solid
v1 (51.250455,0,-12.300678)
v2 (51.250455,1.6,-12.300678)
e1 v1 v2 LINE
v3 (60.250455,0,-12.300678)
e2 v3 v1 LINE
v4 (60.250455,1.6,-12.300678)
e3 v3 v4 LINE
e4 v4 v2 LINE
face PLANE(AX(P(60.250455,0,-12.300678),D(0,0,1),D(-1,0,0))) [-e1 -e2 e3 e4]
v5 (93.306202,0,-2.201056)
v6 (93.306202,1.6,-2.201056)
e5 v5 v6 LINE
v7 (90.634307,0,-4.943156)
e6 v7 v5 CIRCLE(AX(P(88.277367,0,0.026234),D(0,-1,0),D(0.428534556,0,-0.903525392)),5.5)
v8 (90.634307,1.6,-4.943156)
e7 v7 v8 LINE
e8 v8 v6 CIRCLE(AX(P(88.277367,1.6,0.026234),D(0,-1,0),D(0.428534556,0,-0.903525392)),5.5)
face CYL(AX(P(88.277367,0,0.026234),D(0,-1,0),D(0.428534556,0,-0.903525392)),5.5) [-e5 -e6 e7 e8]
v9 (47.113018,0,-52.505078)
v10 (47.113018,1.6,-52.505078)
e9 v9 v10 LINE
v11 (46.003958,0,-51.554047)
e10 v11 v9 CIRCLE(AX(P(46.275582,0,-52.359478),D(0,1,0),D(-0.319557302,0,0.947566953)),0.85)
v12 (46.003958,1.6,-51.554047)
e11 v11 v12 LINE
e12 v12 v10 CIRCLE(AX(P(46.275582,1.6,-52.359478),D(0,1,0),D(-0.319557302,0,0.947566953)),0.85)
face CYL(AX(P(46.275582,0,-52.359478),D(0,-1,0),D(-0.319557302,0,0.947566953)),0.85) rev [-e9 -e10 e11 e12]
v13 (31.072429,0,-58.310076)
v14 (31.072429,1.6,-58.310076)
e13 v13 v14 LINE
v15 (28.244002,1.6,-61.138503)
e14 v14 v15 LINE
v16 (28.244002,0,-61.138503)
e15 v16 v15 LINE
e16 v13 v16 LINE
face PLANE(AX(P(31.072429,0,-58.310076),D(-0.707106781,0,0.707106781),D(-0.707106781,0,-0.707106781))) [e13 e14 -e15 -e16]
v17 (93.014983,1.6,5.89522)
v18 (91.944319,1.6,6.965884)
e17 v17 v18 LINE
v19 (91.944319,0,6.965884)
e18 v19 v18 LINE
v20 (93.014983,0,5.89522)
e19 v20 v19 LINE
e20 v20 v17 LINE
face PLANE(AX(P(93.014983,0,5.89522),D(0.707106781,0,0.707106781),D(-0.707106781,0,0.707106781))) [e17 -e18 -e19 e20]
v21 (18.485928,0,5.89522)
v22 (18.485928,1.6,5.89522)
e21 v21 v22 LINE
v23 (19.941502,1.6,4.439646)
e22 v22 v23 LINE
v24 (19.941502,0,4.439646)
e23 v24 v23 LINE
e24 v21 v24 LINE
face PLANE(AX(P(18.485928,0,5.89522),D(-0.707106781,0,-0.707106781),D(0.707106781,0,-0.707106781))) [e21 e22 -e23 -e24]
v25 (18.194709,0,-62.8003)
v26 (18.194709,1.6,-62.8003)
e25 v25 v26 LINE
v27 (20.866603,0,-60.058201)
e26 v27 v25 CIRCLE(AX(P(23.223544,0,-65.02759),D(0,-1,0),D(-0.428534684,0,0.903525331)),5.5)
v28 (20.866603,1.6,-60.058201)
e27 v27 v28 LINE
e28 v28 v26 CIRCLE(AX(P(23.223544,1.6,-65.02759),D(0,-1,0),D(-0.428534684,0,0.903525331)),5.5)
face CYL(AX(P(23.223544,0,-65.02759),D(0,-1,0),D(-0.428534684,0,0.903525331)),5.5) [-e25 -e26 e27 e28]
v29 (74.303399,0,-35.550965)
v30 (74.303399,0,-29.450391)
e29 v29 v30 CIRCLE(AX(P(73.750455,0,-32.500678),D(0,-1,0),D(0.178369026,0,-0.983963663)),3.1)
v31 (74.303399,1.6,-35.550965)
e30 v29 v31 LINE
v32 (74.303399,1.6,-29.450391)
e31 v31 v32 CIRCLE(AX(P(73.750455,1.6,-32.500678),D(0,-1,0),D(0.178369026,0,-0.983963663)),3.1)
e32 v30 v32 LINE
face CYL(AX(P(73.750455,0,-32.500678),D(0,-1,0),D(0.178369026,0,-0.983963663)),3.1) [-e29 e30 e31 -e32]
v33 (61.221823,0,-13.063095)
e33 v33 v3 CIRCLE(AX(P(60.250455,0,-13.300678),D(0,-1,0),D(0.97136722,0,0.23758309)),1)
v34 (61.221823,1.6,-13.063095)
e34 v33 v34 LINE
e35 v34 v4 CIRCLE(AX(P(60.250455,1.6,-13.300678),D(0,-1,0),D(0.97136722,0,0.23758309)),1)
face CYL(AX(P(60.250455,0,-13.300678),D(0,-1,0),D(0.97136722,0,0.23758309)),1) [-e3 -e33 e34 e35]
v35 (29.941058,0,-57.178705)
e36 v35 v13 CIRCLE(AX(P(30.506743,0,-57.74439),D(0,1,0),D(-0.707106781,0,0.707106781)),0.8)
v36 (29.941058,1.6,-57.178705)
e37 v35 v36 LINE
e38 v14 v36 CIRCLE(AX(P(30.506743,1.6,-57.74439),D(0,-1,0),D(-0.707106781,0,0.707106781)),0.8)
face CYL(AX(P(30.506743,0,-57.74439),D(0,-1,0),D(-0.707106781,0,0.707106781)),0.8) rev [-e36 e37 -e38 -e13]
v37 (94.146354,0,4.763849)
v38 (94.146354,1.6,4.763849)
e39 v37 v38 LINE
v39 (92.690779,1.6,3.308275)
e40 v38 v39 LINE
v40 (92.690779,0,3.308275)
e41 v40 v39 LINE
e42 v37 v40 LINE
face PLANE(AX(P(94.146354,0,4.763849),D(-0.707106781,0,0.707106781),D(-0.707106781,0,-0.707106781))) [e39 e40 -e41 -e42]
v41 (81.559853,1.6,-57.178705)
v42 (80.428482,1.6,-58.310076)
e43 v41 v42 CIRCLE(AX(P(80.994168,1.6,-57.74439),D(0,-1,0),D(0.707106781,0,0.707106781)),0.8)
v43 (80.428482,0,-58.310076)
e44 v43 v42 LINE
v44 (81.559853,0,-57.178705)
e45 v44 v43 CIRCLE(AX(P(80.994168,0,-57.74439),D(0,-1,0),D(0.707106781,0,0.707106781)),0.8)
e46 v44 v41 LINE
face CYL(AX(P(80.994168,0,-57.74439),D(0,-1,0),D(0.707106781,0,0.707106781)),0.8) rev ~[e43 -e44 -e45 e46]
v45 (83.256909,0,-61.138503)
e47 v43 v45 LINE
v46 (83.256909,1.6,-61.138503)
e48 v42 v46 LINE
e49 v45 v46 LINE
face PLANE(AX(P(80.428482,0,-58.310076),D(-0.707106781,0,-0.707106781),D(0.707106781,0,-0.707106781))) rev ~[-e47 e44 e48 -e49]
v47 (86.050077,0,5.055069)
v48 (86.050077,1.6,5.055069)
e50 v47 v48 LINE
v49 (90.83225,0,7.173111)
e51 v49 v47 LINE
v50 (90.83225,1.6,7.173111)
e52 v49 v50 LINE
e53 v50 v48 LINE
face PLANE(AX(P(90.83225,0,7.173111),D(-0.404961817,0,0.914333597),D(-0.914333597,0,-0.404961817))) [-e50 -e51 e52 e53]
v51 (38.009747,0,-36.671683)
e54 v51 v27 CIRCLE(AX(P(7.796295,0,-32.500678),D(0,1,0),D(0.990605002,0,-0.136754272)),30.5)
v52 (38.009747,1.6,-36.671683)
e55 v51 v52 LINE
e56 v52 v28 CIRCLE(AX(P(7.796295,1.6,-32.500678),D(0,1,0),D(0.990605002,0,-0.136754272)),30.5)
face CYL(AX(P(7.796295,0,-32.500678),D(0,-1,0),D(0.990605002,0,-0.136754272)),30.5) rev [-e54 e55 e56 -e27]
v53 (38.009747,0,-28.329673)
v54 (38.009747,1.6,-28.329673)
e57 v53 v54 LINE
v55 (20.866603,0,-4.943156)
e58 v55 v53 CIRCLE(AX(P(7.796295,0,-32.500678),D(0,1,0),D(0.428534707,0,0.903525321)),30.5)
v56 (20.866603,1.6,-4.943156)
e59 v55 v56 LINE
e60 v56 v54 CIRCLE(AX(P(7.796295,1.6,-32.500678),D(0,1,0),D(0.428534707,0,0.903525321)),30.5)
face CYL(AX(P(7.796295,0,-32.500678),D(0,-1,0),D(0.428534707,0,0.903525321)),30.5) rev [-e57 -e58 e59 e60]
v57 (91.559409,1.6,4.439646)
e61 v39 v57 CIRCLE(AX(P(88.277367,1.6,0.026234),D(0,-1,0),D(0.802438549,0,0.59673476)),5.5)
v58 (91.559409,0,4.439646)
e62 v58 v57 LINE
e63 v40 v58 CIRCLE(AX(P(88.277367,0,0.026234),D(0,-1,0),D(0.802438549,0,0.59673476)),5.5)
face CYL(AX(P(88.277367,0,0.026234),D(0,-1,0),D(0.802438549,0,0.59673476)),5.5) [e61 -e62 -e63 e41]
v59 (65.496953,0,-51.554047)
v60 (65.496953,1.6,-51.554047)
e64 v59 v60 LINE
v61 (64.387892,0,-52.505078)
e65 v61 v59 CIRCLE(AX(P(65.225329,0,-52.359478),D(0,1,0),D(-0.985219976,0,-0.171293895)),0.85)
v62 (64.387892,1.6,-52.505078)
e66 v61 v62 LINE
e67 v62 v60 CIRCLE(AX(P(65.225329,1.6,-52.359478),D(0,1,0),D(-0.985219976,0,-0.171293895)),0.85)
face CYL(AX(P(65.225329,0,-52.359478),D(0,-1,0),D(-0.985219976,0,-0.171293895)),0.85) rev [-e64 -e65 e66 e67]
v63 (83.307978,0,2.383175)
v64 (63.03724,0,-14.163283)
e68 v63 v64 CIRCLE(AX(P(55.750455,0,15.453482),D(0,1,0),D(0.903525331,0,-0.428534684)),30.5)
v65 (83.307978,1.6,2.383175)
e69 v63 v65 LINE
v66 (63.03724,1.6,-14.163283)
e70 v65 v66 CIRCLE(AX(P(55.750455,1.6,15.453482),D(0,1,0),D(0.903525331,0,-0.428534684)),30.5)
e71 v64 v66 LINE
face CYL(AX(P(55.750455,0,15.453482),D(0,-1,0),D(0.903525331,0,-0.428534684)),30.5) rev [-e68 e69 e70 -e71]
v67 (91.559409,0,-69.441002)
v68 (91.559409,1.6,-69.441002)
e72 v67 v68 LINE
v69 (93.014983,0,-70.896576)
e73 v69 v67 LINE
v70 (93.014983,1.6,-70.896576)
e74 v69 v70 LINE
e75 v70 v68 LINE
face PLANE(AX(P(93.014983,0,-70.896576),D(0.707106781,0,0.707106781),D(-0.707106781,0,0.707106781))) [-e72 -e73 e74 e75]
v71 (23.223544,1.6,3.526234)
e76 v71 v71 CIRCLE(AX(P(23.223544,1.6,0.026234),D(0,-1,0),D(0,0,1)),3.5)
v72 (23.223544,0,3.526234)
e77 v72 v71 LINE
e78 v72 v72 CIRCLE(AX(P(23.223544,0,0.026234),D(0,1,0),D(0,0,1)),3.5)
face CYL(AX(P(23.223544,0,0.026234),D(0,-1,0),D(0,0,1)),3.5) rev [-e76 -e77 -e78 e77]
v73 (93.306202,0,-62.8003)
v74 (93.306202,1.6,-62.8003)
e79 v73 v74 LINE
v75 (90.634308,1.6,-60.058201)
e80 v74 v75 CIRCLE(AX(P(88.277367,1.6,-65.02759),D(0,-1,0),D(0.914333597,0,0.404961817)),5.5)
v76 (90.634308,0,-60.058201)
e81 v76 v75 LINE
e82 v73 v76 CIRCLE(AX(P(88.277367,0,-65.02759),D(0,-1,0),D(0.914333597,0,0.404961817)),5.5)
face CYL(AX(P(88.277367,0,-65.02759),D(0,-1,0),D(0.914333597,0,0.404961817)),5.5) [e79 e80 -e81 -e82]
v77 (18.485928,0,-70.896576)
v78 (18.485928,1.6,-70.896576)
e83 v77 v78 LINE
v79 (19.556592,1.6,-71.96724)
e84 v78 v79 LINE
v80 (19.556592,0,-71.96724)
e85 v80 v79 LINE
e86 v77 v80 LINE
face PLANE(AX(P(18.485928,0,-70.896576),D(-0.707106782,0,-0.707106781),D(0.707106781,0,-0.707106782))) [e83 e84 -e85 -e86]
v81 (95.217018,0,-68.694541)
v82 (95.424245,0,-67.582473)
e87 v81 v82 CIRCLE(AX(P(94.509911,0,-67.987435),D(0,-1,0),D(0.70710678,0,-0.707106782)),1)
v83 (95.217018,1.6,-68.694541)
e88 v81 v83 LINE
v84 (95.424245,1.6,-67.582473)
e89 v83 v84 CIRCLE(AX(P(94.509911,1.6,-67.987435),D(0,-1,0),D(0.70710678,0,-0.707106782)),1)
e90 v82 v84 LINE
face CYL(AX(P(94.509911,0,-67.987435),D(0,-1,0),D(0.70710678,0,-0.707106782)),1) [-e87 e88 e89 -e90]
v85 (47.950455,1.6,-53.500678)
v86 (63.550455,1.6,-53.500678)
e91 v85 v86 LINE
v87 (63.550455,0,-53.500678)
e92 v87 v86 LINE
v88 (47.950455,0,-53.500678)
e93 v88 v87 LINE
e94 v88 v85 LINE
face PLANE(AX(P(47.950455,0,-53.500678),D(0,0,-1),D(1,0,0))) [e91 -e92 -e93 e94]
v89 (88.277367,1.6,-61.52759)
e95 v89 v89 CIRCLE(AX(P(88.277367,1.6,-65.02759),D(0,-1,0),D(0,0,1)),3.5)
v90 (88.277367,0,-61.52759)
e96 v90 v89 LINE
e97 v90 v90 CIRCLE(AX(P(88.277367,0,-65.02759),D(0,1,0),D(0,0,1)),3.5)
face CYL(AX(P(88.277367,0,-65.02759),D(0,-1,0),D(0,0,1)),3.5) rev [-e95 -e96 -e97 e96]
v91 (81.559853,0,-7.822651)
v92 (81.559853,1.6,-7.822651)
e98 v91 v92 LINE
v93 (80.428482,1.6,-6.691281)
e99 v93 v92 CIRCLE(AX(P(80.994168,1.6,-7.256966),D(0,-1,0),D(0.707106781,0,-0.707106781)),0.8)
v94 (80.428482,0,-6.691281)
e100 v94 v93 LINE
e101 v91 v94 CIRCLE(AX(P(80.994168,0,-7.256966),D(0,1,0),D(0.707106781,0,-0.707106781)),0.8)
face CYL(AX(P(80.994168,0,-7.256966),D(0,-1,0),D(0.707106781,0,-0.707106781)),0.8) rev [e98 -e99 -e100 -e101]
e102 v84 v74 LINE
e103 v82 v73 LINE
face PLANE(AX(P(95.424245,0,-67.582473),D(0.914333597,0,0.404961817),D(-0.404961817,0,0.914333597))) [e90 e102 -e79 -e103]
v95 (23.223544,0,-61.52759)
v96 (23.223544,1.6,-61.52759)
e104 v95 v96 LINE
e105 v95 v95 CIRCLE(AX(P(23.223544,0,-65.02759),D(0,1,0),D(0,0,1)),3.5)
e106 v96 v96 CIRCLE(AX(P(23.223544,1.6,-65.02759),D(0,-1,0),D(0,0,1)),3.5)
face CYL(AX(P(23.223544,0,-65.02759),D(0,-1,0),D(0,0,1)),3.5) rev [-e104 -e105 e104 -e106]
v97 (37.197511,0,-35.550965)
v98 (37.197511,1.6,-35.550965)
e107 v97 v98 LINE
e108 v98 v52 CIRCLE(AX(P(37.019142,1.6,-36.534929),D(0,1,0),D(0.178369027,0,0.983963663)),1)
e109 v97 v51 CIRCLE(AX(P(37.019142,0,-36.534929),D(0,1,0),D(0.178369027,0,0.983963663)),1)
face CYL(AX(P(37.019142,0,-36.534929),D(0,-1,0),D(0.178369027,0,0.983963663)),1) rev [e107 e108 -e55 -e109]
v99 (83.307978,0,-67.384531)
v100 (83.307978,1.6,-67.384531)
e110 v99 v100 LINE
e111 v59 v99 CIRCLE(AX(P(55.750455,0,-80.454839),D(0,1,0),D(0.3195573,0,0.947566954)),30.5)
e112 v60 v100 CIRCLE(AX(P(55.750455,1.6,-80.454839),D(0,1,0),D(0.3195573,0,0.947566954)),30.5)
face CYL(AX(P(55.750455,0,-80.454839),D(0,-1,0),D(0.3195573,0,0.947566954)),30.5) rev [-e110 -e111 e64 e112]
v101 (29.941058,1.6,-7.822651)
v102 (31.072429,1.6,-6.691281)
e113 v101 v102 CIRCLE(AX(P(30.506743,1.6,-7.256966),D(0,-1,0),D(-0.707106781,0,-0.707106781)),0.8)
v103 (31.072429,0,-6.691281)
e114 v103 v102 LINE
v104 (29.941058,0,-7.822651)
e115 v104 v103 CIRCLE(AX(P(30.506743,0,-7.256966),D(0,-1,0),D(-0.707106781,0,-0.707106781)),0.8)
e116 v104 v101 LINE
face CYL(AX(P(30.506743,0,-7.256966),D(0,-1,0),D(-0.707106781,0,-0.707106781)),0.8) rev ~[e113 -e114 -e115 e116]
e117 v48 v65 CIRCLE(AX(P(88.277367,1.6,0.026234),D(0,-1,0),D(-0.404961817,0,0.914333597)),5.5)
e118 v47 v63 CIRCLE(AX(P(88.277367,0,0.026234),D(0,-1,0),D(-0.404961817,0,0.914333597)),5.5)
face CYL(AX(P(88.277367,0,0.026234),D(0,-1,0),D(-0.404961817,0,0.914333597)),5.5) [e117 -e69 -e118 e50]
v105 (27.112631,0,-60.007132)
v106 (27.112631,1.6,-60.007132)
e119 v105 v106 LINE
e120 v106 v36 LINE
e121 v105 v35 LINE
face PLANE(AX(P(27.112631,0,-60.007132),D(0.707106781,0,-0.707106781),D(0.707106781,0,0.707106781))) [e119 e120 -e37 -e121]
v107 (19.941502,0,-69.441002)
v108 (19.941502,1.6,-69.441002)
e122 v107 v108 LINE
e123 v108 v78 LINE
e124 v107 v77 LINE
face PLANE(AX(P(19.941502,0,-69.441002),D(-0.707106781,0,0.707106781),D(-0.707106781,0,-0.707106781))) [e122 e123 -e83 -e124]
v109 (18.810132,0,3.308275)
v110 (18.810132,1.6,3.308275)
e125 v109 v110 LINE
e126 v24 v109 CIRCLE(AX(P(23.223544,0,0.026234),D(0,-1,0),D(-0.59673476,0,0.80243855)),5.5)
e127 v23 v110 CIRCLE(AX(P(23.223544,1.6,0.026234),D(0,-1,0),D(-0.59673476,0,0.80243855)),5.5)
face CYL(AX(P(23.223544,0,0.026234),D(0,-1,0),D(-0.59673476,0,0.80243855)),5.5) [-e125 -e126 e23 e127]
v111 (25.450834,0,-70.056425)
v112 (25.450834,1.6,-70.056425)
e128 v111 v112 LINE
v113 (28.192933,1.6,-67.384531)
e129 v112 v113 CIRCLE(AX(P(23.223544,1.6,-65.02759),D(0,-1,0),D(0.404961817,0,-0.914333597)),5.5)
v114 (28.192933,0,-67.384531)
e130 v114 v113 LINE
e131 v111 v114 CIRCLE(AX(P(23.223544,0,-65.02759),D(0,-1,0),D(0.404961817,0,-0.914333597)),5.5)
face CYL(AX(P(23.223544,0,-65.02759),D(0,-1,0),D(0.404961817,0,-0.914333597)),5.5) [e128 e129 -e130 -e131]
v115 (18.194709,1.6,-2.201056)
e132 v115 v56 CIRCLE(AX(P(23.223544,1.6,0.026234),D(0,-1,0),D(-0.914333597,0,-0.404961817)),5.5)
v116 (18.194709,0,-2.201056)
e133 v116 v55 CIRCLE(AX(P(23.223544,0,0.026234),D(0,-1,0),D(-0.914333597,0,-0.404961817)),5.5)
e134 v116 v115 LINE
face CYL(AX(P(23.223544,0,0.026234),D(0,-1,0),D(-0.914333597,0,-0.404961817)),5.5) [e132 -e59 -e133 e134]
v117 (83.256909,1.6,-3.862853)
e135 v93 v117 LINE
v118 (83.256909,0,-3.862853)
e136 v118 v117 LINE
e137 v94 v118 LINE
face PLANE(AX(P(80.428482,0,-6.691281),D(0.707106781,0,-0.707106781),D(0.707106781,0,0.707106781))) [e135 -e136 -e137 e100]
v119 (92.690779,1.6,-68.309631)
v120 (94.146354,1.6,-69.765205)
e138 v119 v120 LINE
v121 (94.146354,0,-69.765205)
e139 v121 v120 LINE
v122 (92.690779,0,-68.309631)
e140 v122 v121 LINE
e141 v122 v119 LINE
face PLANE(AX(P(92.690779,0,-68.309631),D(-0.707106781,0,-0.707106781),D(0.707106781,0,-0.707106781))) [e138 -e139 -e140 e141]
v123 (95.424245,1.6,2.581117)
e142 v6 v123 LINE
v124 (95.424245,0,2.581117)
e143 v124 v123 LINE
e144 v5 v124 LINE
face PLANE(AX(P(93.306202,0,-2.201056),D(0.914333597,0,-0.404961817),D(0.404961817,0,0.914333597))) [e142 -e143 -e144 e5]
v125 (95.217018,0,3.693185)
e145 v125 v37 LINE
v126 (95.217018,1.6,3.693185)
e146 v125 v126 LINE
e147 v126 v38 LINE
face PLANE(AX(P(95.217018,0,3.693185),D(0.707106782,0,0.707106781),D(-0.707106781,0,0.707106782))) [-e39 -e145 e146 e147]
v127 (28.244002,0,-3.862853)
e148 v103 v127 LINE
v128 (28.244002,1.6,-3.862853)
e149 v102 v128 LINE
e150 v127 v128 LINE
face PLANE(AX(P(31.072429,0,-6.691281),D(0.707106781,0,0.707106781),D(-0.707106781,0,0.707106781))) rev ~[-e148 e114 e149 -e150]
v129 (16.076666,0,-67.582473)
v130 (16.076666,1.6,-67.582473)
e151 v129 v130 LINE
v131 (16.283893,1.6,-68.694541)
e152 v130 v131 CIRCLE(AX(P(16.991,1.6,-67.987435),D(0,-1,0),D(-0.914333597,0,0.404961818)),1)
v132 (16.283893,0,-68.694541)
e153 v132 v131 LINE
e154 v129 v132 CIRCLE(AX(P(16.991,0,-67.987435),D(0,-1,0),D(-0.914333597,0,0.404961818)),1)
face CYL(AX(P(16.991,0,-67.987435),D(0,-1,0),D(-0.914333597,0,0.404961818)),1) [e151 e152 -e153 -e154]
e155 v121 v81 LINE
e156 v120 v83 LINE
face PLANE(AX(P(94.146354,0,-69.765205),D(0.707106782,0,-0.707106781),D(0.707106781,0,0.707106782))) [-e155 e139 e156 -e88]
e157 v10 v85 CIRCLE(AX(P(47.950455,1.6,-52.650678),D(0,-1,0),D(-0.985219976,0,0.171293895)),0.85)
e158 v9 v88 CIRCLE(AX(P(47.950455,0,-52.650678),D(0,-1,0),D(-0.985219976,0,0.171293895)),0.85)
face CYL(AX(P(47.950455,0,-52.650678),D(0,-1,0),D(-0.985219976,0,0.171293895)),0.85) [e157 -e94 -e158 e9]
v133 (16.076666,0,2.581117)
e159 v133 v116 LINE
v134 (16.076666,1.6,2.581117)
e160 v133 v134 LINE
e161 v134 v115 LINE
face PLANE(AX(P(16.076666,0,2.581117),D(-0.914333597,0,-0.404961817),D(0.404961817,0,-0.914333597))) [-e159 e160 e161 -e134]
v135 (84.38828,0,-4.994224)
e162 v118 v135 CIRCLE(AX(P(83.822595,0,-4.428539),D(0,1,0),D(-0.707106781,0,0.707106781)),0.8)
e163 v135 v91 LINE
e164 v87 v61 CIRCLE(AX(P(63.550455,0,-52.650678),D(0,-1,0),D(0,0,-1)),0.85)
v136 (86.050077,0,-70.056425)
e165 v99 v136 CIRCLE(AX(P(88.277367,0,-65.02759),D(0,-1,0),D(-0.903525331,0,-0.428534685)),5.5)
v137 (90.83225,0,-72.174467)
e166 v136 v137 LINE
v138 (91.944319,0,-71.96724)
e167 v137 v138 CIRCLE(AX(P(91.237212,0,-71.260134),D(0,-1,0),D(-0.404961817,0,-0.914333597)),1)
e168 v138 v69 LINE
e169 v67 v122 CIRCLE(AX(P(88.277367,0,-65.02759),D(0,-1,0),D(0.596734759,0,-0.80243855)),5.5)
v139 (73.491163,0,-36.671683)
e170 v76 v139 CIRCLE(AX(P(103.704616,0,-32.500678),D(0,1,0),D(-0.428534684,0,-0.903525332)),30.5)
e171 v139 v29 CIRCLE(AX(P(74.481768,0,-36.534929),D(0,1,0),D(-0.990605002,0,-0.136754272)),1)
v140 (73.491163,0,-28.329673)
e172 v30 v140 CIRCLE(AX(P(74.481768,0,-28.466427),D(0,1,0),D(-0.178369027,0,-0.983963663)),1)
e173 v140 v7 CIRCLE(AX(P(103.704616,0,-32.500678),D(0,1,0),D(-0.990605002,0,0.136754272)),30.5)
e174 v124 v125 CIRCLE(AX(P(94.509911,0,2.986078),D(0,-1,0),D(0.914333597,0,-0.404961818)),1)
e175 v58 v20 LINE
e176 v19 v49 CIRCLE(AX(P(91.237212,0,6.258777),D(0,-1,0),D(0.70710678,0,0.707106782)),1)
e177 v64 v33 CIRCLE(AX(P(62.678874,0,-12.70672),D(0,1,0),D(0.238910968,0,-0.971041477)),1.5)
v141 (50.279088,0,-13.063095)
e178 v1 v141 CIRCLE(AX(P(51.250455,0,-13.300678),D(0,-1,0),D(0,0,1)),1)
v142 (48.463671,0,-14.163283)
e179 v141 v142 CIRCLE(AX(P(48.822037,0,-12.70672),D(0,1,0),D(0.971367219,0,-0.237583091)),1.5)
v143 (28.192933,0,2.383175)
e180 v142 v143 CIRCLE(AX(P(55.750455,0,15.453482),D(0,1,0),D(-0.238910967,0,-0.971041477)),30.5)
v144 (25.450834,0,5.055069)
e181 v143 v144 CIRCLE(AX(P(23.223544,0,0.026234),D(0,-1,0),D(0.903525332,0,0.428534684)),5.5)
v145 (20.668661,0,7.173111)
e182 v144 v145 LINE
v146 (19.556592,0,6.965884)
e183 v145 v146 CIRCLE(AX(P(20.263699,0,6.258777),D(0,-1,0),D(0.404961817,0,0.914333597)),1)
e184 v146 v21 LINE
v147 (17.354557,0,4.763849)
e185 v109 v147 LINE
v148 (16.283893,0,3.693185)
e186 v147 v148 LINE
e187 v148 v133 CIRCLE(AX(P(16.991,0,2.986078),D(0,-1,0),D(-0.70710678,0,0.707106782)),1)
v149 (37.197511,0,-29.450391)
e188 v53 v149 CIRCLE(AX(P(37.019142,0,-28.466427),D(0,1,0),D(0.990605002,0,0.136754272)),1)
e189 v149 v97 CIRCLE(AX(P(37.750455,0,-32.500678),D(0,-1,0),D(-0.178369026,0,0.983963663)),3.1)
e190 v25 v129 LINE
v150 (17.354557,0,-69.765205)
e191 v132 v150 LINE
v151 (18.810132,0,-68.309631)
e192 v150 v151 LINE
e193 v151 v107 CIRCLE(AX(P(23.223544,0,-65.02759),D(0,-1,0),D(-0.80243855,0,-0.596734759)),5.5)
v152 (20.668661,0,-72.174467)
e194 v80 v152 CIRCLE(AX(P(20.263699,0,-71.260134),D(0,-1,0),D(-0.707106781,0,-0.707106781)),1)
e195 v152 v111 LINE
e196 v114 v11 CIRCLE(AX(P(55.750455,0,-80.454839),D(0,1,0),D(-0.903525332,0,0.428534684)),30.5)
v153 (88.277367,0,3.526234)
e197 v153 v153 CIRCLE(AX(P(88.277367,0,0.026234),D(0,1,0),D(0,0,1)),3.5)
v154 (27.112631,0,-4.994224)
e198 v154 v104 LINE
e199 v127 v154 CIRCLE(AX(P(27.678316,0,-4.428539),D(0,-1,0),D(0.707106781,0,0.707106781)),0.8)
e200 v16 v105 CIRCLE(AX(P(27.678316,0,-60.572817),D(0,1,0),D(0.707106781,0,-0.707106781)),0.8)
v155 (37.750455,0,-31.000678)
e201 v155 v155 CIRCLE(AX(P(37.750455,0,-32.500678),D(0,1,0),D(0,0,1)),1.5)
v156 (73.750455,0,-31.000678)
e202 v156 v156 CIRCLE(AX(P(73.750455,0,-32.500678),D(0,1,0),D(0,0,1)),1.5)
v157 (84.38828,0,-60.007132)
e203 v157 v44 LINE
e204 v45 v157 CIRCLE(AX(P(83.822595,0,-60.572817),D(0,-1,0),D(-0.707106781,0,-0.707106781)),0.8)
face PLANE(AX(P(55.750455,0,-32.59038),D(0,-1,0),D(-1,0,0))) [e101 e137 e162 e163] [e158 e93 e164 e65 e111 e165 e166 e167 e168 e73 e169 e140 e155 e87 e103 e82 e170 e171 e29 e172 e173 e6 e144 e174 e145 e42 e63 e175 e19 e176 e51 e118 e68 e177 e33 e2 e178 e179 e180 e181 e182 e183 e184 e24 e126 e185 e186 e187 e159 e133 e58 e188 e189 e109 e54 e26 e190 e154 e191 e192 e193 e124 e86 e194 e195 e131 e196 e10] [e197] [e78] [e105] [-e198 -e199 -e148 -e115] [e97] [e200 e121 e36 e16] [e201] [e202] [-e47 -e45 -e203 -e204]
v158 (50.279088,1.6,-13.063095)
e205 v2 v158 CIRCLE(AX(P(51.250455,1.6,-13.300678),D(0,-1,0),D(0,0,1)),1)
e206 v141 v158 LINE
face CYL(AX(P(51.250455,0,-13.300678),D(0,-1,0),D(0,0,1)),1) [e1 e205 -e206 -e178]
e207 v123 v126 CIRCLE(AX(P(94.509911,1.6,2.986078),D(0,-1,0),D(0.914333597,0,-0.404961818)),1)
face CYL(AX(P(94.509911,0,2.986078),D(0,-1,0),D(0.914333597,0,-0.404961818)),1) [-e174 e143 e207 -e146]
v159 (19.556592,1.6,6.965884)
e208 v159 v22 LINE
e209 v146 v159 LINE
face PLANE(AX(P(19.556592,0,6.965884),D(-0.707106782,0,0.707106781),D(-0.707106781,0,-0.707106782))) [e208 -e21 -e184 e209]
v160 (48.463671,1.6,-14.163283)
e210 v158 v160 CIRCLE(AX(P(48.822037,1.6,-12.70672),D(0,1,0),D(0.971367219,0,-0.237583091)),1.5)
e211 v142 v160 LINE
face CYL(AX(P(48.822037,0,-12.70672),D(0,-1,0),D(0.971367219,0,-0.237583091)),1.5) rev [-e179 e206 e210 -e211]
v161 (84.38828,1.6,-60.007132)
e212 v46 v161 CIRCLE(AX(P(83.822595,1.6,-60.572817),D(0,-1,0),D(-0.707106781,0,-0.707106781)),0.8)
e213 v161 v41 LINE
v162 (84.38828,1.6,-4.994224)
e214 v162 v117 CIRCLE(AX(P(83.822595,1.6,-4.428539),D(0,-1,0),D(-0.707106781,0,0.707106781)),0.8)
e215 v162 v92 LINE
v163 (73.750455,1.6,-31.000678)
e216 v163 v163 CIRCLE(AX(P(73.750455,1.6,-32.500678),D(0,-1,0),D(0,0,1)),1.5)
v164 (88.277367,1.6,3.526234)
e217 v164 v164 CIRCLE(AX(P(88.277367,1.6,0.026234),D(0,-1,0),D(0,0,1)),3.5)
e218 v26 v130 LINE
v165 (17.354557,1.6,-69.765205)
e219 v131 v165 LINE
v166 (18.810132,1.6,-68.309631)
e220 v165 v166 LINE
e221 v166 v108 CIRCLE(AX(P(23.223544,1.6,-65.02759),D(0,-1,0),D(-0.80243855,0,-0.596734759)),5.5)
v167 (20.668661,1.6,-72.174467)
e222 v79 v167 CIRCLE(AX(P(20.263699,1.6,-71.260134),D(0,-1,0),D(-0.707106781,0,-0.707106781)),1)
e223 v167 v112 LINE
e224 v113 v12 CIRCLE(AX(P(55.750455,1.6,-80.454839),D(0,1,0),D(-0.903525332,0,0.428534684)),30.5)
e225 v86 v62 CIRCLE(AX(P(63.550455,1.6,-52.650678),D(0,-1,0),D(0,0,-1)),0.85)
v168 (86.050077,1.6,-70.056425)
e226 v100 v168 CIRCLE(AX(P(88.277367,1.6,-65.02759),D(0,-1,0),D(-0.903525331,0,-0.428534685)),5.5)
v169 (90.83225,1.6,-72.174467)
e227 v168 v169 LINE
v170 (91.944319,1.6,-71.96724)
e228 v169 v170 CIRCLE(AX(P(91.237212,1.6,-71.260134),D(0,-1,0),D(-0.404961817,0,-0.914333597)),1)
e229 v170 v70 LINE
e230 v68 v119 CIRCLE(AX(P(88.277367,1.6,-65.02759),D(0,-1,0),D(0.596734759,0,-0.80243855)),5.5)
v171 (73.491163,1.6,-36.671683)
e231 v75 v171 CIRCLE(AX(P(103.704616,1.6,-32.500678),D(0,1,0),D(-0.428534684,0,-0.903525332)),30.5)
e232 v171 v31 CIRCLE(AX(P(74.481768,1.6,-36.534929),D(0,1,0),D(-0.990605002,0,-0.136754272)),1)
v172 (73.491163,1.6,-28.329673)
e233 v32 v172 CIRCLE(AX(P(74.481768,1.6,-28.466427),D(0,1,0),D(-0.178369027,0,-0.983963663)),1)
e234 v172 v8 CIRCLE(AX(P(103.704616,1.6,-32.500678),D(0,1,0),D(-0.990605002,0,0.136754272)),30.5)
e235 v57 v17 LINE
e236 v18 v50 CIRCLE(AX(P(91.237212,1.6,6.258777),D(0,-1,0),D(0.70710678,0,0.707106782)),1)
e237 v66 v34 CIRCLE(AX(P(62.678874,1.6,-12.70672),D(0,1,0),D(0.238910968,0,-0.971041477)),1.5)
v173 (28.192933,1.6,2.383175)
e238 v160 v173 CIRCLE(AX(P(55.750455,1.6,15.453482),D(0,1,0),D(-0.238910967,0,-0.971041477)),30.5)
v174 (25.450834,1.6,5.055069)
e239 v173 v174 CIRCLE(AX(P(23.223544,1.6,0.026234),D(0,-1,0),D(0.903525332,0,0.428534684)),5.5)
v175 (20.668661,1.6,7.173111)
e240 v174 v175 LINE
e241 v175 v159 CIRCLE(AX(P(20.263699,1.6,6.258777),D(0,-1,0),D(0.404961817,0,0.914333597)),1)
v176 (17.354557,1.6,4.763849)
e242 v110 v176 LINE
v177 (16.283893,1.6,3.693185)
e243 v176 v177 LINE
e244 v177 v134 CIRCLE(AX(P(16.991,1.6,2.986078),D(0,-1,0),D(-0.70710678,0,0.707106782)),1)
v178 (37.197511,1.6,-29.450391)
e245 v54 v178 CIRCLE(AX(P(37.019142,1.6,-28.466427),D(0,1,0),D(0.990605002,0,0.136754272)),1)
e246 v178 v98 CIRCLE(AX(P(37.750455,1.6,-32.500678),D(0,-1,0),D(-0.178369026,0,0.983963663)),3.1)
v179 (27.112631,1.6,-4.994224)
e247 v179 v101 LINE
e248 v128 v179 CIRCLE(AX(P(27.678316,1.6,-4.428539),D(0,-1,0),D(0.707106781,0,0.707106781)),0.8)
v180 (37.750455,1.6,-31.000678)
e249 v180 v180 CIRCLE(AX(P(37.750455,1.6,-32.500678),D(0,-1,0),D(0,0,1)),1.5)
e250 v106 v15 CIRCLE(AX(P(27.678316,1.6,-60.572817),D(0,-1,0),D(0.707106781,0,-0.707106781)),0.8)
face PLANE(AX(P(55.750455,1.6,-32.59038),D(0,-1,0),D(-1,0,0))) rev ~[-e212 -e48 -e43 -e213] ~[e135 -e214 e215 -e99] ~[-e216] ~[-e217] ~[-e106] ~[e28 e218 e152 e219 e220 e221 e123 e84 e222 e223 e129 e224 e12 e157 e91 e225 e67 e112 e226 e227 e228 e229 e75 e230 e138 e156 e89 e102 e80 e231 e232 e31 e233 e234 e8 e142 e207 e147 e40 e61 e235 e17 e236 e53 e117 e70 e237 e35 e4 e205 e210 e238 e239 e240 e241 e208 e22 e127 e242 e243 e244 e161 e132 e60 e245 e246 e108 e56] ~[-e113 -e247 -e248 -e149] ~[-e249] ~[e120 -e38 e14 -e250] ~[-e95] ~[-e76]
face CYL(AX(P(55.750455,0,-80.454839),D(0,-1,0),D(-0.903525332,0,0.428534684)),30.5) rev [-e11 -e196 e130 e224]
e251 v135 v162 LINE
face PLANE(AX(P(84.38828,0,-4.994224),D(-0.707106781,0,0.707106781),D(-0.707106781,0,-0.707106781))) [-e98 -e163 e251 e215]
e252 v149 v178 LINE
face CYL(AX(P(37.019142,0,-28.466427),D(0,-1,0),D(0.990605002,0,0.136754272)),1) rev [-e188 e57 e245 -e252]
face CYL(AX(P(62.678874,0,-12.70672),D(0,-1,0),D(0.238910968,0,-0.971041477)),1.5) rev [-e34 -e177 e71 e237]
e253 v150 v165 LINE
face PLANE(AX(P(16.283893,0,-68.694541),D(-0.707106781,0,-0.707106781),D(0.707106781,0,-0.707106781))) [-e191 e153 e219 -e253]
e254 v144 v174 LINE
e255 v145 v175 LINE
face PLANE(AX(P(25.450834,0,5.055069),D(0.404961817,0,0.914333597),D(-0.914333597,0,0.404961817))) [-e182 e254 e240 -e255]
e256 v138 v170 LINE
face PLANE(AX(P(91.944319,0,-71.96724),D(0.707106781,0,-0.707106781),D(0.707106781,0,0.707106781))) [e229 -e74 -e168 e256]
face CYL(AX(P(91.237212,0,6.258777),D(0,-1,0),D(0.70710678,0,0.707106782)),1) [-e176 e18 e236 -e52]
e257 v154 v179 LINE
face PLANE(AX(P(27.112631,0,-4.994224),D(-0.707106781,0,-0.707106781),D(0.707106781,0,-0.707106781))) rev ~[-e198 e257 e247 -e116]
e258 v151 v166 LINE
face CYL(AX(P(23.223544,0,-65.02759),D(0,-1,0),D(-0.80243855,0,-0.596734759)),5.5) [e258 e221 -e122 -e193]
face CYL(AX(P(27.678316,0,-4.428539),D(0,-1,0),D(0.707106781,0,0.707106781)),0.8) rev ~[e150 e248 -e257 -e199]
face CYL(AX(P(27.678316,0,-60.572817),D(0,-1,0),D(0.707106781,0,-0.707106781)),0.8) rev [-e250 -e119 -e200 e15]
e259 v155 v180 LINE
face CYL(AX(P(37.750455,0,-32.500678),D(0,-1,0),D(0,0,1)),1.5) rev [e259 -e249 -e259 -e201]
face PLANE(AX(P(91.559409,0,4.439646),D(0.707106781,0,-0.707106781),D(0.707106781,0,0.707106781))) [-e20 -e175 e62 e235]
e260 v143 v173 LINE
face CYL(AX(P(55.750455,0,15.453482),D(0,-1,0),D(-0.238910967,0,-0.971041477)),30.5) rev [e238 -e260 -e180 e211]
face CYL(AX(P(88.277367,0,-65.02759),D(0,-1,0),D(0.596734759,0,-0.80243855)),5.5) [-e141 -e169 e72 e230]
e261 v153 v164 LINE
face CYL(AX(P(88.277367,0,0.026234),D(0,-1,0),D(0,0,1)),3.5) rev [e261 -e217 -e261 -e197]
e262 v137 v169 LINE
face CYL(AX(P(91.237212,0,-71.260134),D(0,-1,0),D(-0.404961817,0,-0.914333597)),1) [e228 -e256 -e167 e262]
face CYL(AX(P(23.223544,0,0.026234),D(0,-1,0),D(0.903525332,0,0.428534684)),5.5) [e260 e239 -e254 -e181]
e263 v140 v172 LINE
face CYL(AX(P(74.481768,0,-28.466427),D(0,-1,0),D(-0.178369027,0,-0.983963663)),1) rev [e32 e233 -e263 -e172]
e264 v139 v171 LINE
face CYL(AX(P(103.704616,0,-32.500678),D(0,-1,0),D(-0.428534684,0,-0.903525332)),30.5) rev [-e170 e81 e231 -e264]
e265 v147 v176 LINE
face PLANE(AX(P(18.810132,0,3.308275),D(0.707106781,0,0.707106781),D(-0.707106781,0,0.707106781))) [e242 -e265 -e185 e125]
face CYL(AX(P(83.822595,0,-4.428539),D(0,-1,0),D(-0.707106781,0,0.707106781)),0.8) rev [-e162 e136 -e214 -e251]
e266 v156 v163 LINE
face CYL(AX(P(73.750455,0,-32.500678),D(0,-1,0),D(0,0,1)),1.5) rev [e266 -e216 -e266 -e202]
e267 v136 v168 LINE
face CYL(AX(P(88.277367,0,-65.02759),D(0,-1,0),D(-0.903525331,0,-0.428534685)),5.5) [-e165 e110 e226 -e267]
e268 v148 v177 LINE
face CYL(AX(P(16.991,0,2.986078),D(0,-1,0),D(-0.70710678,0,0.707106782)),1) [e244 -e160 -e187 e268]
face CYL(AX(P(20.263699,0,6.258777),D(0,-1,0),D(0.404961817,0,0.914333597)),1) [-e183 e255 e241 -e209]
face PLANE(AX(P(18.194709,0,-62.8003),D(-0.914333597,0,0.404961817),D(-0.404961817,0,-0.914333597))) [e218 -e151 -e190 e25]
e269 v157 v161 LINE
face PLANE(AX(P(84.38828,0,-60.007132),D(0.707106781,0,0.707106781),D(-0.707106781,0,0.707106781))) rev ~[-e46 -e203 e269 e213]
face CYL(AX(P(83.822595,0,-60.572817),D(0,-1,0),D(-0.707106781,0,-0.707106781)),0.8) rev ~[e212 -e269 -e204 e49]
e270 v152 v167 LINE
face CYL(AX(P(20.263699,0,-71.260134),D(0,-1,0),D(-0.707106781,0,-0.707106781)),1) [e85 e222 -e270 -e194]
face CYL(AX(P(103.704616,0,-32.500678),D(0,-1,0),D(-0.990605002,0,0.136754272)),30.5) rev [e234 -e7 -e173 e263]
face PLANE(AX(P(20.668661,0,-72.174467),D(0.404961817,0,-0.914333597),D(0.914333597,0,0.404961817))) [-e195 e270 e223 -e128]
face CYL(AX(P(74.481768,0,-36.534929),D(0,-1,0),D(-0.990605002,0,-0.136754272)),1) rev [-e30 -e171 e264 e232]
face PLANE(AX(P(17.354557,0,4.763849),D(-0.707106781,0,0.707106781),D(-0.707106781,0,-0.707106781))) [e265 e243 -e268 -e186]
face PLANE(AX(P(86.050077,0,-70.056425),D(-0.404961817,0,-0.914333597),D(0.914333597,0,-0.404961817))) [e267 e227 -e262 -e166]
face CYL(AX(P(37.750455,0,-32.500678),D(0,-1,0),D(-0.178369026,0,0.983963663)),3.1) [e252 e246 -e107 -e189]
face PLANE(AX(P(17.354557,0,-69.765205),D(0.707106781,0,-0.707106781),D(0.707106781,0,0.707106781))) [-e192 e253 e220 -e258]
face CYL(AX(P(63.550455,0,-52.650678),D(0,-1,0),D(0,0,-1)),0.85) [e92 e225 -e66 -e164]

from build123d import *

# Parameters (mm, degrees)
EXTRUDE_1_DEPTH     = 1.6
SKETCH_2_R          = 3.5
SKETCH_2_R_2        = 1.5
CUT_EXTRUDE_2_DEPTH = 120.775748848


with BuildPart() as part:
    # 草图1 → 凸台-拉伸1 (new body)
    with BuildSketch(Plane(origin=(0, 0, 0), x_dir=(1, 0, 0), z_dir=(0, 1, 0))):
        with BuildLine():
            Line((47.950455462, 53.500678068), (63.550455462, 53.500678068))
            ThreePointArc((63.550455462, 53.500678068), (64.200939835, 53.197825288), (64.387892442, 52.505078257))
            ThreePointArc((64.387892442, 52.505078257), (64.672019835, 51.714227719), (65.496953127, 51.554046536))
            ThreePointArc((65.496953127, 51.554046536), (76.012452894, 57.657876981), (83.307978073, 67.384530764))
            ThreePointArc((83.307978073, 67.384530764), (84.439034072, 68.966777391), (86.050077403, 70.056424786))
            Line((86.050077403, 70.056424786), (90.83225012, 72.174467215))
            ThreePointArc((90.83225012, 72.174467215), (91.420402092, 72.243211116), (91.944318718, 71.967240399))
            Line((91.944318718, 71.967240399), (93.014982831, 70.896576286))
            Line((93.014982831, 70.896576286), (91.559408573, 69.441002029))
            ThreePointArc((91.559408573, 69.441002029), (92.166454693, 68.916677299), (92.690779423, 68.309631179))
            Line((92.690779423, 68.309631179), (94.146353681, 69.765205436))
            Line((94.146353681, 69.765205436), (95.217017793, 68.694541323))
            ThreePointArc((95.217017793, 68.694541323), (95.49298851, 68.170624698), (95.424244609, 67.582472725))
            Line((95.424244609, 67.582472725), (93.306202181, 62.800300009))
            ThreePointArc((93.306202181, 62.800300009), (92.216554786, 61.189256677), (90.634308158, 60.058200679))
            ThreePointArc((90.634308158, 60.058200679), (79.105768954, 50.532503354), (73.491163469, 36.671683358))
            ThreePointArc((73.491163469, 36.671683358), (73.672060349, 35.948096267), (74.303399444, 35.550965423))
            ThreePointArc((74.303399444, 35.550965423), (76.850455462, 32.500678068), (74.303399444, 29.450390712))
            ThreePointArc((74.303399444, 29.450390712), (73.672060349, 29.053259868), (73.491163469, 28.329672777))
            ThreePointArc((73.491163469, 28.329672777), (79.105768724, 14.468853095), (90.634307454, 4.94315579))
            ThreePointArc((90.634307454, 4.94315579), (92.216554514, 3.812099737), (93.306202181, 2.201056127))
            Line((93.306202181, 2.201056127), (95.424244609, -2.58111659))
            ThreePointArc((95.424244609, -2.58111659), (95.49298851, -3.169268563), (95.217017793, -3.693185188))
            Line((95.217017793, -3.693185188), (94.146353681, -4.763849301))
            Line((94.146353681, -4.763849301), (92.690779423, -3.308275044))
            ThreePointArc((92.690779423, -3.308275044), (92.166454693, -3.915321163), (91.559408573, -4.439645893))
            Line((91.559408573, -4.439645893), (93.014982831, -5.895220151))
            Line((93.014982831, -5.895220151), (91.944318718, -6.965884264))
            ThreePointArc((91.944318718, -6.965884264), (91.420402092, -7.24185498), (90.83225012, -7.173111079))
            Line((90.83225012, -7.173111079), (86.050077403, -5.055068651))
            ThreePointArc((86.050077403, -5.055068651), (84.439034072, -3.965421256), (83.307978073, -2.383174628))
            ThreePointArc((83.307978073, -2.383174628), (75.037180063, 8.17430315), (63.037239962, 14.163282556))
            ThreePointArc((63.037239962, 14.163282556), (61.901454693, 13.989537546), (61.221822682, 13.063094977))
            ThreePointArc((61.221822682, 13.063094977), (60.867876271, 12.514045024), (60.250455462, 12.300678068))
            Line((60.250455462, 12.300678068), (51.250455462, 12.300678068))
            ThreePointArc((51.250455462, 12.300678068), (50.633034654, 12.514045024), (50.279088243, 13.063094977))
            ThreePointArc((50.279088243, 13.063094977), (49.599456231, 13.989537546), (48.463670963, 14.163282556))
            ThreePointArc((48.463670963, 14.163282556), (36.463730861, 8.17430315), (28.192932851, -2.383174628))
            ThreePointArc((28.192932851, -2.383174628), (27.061876853, -3.965421256), (25.450833521, -5.055068651))
            Line((25.450833521, -5.055068651), (20.668660805, -7.173111079))
            ThreePointArc((20.668660805, -7.173111079), (20.080508832, -7.24185498), (19.556592206, -6.965884264))
            Line((19.556592206, -6.965884264), (18.485928094, -5.895220151))
            Line((18.485928094, -5.895220151), (19.941502351, -4.439645893))
            ThreePointArc((19.941502351, -4.439645893), (19.334456231, -3.915321163), (18.810131501, -3.308275044))
            Line((18.810131501, -3.308275044), (17.354557244, -4.763849301))
            Line((17.354557244, -4.763849301), (16.283893131, -3.693185188))
            ThreePointArc((16.283893131, -3.693185188), (16.007922414, -3.169268563), (16.076666315, -2.58111659))
            Line((16.076666315, -2.58111659), (18.194708744, 2.201056127))
            ThreePointArc((18.194708744, 2.201056127), (19.28435641, 3.812099737), (20.86660347, 4.94315579))
            ThreePointArc((20.86660347, 4.94315579), (32.395142201, 14.468853095), (38.009747455, 28.329672777))
            ThreePointArc((38.009747455, 28.329672777), (37.828850575, 29.053259868), (37.19751148, 29.450390712))
            ThreePointArc((37.19751148, 29.450390712), (34.650455462, 32.500678068), (37.19751148, 35.550965423))
            ThreePointArc((37.19751148, 35.550965423), (37.828850575, 35.948096267), (38.009747455, 36.671683358))
            ThreePointArc((38.009747455, 36.671683358), (32.39514197, 50.532503354), (20.866602766, 60.058200679))
            ThreePointArc((20.866602766, 60.058200679), (19.284356139, 61.189256677), (18.194708744, 62.800300009))
            Line((18.194708744, 62.800300009), (16.076666315, 67.582472725))
            ThreePointArc((16.076666315, 67.582472725), (16.007922414, 68.170624698), (16.283893131, 68.694541323))
            Line((16.283893131, 68.694541323), (17.354557244, 69.765205436))
            Line((17.354557244, 69.765205436), (18.810131501, 68.309631179))
            ThreePointArc((18.810131501, 68.309631179), (19.334456231, 68.916677299), (19.941502351, 69.441002029))
            Line((19.941502351, 69.441002029), (18.485928094, 70.896576286))
            Line((18.485928094, 70.896576286), (19.556592206, 71.967240399))
            ThreePointArc((19.556592206, 71.967240399), (20.080508832, 72.243211116), (20.668660805, 72.174467215))
            Line((20.668660805, 72.174467215), (25.450833521, 70.056424786))
            ThreePointArc((25.450833521, 70.056424786), (27.061876853, 68.966777391), (28.192932851, 67.384530764))
            ThreePointArc((28.192932851, 67.384530764), (35.488458031, 57.657876981), (46.003957797, 51.554046536))
            ThreePointArc((46.003957797, 51.554046536), (46.82889109, 51.714227719), (47.113018482, 52.505078257))
            ThreePointArc((47.113018482, 52.505078257), (47.299971089, 53.197825288), (47.950455462, 53.500678068))
        make_face()
    extrude(amount=EXTRUDE_1_DEPTH)

    # 草图2 → 切除-拉伸2 (cut, through all)
    with BuildSketch(Plane(origin=(0, 0, 0), x_dir=(1, 0, 0), z_dir=(0, 1, 0))):
        with Locations(Location((88.277367397, -0.026233867, 0), (0, 0, 270))):
            Circle(SKETCH_2_R)
        with Locations(Location((88.277367397, 65.027590002, 0), (0, 0, 270))):
            Circle(SKETCH_2_R)
        with Locations(Location((23.223543528, -0.026233867, 0), (0, 0, 270))):
            Circle(SKETCH_2_R)
        with Locations(Location((23.223543528, 65.027590002, 0), (0, 0, 270))):
            Circle(SKETCH_2_R)
        with Locations(Location((37.750455462, 32.500678068, 0), (0, 0, 270))):
            Circle(SKETCH_2_R_2)
        with Locations(Location((73.750455462, 32.500678068, 0), (0, 0, 270))):
            Circle(SKETCH_2_R_2)
        with BuildLine():
            Line((84.3882801, 4.994224279), (81.559852975, 7.822651404))
            ThreePointArc((81.559852975, 7.822651404), (80.428482126, 7.822651404), (80.428482126, 6.691280554))
            Line((80.428482126, 6.691280554), (83.25690925, 3.86285343))
            ThreePointArc((83.25690925, 3.86285343), (84.3882801, 3.86285343), (84.3882801, 4.994224279))
        make_face()
        with BuildLine():
            Line((27.112630824, 60.007131856), (29.941057949, 57.178704731))
            ThreePointArc((29.941057949, 57.178704731), (31.072428799, 57.178704731), (31.072428799, 58.310075581))
            Line((31.072428799, 58.310075581), (28.244001674, 61.138502706))
            ThreePointArc((28.244001674, 61.138502706), (27.112630824, 61.138502706), (27.112630824, 60.007131856))
        make_face()
        with BuildLine():
            Line((27.112630824, 4.994224279), (29.941057949, 7.822651404))
            ThreePointArc((29.941057949, 7.822651404), (31.072428799, 7.822651404), (31.072428799, 6.691280554))
            Line((31.072428799, 6.691280554), (28.244001674, 3.86285343))
            ThreePointArc((28.244001674, 3.86285343), (27.112630824, 3.86285343), (27.112630824, 4.994224279))
        make_face()
        with BuildLine():
            Line((84.3882801, 60.007131856), (81.559852975, 57.178704731))
            ThreePointArc((81.559852975, 57.178704731), (80.428482126, 57.178704731), (80.428482126, 58.310075581))
            Line((80.428482126, 58.310075581), (83.25690925, 61.138502706))
            ThreePointArc((83.25690925, 61.138502706), (84.3882801, 61.138502706), (84.3882801, 60.007131856))
        make_face()
    extrude(amount=CUT_EXTRUDE_2_DEPTH, mode=Mode.SUBTRACT)


solid = part.part
